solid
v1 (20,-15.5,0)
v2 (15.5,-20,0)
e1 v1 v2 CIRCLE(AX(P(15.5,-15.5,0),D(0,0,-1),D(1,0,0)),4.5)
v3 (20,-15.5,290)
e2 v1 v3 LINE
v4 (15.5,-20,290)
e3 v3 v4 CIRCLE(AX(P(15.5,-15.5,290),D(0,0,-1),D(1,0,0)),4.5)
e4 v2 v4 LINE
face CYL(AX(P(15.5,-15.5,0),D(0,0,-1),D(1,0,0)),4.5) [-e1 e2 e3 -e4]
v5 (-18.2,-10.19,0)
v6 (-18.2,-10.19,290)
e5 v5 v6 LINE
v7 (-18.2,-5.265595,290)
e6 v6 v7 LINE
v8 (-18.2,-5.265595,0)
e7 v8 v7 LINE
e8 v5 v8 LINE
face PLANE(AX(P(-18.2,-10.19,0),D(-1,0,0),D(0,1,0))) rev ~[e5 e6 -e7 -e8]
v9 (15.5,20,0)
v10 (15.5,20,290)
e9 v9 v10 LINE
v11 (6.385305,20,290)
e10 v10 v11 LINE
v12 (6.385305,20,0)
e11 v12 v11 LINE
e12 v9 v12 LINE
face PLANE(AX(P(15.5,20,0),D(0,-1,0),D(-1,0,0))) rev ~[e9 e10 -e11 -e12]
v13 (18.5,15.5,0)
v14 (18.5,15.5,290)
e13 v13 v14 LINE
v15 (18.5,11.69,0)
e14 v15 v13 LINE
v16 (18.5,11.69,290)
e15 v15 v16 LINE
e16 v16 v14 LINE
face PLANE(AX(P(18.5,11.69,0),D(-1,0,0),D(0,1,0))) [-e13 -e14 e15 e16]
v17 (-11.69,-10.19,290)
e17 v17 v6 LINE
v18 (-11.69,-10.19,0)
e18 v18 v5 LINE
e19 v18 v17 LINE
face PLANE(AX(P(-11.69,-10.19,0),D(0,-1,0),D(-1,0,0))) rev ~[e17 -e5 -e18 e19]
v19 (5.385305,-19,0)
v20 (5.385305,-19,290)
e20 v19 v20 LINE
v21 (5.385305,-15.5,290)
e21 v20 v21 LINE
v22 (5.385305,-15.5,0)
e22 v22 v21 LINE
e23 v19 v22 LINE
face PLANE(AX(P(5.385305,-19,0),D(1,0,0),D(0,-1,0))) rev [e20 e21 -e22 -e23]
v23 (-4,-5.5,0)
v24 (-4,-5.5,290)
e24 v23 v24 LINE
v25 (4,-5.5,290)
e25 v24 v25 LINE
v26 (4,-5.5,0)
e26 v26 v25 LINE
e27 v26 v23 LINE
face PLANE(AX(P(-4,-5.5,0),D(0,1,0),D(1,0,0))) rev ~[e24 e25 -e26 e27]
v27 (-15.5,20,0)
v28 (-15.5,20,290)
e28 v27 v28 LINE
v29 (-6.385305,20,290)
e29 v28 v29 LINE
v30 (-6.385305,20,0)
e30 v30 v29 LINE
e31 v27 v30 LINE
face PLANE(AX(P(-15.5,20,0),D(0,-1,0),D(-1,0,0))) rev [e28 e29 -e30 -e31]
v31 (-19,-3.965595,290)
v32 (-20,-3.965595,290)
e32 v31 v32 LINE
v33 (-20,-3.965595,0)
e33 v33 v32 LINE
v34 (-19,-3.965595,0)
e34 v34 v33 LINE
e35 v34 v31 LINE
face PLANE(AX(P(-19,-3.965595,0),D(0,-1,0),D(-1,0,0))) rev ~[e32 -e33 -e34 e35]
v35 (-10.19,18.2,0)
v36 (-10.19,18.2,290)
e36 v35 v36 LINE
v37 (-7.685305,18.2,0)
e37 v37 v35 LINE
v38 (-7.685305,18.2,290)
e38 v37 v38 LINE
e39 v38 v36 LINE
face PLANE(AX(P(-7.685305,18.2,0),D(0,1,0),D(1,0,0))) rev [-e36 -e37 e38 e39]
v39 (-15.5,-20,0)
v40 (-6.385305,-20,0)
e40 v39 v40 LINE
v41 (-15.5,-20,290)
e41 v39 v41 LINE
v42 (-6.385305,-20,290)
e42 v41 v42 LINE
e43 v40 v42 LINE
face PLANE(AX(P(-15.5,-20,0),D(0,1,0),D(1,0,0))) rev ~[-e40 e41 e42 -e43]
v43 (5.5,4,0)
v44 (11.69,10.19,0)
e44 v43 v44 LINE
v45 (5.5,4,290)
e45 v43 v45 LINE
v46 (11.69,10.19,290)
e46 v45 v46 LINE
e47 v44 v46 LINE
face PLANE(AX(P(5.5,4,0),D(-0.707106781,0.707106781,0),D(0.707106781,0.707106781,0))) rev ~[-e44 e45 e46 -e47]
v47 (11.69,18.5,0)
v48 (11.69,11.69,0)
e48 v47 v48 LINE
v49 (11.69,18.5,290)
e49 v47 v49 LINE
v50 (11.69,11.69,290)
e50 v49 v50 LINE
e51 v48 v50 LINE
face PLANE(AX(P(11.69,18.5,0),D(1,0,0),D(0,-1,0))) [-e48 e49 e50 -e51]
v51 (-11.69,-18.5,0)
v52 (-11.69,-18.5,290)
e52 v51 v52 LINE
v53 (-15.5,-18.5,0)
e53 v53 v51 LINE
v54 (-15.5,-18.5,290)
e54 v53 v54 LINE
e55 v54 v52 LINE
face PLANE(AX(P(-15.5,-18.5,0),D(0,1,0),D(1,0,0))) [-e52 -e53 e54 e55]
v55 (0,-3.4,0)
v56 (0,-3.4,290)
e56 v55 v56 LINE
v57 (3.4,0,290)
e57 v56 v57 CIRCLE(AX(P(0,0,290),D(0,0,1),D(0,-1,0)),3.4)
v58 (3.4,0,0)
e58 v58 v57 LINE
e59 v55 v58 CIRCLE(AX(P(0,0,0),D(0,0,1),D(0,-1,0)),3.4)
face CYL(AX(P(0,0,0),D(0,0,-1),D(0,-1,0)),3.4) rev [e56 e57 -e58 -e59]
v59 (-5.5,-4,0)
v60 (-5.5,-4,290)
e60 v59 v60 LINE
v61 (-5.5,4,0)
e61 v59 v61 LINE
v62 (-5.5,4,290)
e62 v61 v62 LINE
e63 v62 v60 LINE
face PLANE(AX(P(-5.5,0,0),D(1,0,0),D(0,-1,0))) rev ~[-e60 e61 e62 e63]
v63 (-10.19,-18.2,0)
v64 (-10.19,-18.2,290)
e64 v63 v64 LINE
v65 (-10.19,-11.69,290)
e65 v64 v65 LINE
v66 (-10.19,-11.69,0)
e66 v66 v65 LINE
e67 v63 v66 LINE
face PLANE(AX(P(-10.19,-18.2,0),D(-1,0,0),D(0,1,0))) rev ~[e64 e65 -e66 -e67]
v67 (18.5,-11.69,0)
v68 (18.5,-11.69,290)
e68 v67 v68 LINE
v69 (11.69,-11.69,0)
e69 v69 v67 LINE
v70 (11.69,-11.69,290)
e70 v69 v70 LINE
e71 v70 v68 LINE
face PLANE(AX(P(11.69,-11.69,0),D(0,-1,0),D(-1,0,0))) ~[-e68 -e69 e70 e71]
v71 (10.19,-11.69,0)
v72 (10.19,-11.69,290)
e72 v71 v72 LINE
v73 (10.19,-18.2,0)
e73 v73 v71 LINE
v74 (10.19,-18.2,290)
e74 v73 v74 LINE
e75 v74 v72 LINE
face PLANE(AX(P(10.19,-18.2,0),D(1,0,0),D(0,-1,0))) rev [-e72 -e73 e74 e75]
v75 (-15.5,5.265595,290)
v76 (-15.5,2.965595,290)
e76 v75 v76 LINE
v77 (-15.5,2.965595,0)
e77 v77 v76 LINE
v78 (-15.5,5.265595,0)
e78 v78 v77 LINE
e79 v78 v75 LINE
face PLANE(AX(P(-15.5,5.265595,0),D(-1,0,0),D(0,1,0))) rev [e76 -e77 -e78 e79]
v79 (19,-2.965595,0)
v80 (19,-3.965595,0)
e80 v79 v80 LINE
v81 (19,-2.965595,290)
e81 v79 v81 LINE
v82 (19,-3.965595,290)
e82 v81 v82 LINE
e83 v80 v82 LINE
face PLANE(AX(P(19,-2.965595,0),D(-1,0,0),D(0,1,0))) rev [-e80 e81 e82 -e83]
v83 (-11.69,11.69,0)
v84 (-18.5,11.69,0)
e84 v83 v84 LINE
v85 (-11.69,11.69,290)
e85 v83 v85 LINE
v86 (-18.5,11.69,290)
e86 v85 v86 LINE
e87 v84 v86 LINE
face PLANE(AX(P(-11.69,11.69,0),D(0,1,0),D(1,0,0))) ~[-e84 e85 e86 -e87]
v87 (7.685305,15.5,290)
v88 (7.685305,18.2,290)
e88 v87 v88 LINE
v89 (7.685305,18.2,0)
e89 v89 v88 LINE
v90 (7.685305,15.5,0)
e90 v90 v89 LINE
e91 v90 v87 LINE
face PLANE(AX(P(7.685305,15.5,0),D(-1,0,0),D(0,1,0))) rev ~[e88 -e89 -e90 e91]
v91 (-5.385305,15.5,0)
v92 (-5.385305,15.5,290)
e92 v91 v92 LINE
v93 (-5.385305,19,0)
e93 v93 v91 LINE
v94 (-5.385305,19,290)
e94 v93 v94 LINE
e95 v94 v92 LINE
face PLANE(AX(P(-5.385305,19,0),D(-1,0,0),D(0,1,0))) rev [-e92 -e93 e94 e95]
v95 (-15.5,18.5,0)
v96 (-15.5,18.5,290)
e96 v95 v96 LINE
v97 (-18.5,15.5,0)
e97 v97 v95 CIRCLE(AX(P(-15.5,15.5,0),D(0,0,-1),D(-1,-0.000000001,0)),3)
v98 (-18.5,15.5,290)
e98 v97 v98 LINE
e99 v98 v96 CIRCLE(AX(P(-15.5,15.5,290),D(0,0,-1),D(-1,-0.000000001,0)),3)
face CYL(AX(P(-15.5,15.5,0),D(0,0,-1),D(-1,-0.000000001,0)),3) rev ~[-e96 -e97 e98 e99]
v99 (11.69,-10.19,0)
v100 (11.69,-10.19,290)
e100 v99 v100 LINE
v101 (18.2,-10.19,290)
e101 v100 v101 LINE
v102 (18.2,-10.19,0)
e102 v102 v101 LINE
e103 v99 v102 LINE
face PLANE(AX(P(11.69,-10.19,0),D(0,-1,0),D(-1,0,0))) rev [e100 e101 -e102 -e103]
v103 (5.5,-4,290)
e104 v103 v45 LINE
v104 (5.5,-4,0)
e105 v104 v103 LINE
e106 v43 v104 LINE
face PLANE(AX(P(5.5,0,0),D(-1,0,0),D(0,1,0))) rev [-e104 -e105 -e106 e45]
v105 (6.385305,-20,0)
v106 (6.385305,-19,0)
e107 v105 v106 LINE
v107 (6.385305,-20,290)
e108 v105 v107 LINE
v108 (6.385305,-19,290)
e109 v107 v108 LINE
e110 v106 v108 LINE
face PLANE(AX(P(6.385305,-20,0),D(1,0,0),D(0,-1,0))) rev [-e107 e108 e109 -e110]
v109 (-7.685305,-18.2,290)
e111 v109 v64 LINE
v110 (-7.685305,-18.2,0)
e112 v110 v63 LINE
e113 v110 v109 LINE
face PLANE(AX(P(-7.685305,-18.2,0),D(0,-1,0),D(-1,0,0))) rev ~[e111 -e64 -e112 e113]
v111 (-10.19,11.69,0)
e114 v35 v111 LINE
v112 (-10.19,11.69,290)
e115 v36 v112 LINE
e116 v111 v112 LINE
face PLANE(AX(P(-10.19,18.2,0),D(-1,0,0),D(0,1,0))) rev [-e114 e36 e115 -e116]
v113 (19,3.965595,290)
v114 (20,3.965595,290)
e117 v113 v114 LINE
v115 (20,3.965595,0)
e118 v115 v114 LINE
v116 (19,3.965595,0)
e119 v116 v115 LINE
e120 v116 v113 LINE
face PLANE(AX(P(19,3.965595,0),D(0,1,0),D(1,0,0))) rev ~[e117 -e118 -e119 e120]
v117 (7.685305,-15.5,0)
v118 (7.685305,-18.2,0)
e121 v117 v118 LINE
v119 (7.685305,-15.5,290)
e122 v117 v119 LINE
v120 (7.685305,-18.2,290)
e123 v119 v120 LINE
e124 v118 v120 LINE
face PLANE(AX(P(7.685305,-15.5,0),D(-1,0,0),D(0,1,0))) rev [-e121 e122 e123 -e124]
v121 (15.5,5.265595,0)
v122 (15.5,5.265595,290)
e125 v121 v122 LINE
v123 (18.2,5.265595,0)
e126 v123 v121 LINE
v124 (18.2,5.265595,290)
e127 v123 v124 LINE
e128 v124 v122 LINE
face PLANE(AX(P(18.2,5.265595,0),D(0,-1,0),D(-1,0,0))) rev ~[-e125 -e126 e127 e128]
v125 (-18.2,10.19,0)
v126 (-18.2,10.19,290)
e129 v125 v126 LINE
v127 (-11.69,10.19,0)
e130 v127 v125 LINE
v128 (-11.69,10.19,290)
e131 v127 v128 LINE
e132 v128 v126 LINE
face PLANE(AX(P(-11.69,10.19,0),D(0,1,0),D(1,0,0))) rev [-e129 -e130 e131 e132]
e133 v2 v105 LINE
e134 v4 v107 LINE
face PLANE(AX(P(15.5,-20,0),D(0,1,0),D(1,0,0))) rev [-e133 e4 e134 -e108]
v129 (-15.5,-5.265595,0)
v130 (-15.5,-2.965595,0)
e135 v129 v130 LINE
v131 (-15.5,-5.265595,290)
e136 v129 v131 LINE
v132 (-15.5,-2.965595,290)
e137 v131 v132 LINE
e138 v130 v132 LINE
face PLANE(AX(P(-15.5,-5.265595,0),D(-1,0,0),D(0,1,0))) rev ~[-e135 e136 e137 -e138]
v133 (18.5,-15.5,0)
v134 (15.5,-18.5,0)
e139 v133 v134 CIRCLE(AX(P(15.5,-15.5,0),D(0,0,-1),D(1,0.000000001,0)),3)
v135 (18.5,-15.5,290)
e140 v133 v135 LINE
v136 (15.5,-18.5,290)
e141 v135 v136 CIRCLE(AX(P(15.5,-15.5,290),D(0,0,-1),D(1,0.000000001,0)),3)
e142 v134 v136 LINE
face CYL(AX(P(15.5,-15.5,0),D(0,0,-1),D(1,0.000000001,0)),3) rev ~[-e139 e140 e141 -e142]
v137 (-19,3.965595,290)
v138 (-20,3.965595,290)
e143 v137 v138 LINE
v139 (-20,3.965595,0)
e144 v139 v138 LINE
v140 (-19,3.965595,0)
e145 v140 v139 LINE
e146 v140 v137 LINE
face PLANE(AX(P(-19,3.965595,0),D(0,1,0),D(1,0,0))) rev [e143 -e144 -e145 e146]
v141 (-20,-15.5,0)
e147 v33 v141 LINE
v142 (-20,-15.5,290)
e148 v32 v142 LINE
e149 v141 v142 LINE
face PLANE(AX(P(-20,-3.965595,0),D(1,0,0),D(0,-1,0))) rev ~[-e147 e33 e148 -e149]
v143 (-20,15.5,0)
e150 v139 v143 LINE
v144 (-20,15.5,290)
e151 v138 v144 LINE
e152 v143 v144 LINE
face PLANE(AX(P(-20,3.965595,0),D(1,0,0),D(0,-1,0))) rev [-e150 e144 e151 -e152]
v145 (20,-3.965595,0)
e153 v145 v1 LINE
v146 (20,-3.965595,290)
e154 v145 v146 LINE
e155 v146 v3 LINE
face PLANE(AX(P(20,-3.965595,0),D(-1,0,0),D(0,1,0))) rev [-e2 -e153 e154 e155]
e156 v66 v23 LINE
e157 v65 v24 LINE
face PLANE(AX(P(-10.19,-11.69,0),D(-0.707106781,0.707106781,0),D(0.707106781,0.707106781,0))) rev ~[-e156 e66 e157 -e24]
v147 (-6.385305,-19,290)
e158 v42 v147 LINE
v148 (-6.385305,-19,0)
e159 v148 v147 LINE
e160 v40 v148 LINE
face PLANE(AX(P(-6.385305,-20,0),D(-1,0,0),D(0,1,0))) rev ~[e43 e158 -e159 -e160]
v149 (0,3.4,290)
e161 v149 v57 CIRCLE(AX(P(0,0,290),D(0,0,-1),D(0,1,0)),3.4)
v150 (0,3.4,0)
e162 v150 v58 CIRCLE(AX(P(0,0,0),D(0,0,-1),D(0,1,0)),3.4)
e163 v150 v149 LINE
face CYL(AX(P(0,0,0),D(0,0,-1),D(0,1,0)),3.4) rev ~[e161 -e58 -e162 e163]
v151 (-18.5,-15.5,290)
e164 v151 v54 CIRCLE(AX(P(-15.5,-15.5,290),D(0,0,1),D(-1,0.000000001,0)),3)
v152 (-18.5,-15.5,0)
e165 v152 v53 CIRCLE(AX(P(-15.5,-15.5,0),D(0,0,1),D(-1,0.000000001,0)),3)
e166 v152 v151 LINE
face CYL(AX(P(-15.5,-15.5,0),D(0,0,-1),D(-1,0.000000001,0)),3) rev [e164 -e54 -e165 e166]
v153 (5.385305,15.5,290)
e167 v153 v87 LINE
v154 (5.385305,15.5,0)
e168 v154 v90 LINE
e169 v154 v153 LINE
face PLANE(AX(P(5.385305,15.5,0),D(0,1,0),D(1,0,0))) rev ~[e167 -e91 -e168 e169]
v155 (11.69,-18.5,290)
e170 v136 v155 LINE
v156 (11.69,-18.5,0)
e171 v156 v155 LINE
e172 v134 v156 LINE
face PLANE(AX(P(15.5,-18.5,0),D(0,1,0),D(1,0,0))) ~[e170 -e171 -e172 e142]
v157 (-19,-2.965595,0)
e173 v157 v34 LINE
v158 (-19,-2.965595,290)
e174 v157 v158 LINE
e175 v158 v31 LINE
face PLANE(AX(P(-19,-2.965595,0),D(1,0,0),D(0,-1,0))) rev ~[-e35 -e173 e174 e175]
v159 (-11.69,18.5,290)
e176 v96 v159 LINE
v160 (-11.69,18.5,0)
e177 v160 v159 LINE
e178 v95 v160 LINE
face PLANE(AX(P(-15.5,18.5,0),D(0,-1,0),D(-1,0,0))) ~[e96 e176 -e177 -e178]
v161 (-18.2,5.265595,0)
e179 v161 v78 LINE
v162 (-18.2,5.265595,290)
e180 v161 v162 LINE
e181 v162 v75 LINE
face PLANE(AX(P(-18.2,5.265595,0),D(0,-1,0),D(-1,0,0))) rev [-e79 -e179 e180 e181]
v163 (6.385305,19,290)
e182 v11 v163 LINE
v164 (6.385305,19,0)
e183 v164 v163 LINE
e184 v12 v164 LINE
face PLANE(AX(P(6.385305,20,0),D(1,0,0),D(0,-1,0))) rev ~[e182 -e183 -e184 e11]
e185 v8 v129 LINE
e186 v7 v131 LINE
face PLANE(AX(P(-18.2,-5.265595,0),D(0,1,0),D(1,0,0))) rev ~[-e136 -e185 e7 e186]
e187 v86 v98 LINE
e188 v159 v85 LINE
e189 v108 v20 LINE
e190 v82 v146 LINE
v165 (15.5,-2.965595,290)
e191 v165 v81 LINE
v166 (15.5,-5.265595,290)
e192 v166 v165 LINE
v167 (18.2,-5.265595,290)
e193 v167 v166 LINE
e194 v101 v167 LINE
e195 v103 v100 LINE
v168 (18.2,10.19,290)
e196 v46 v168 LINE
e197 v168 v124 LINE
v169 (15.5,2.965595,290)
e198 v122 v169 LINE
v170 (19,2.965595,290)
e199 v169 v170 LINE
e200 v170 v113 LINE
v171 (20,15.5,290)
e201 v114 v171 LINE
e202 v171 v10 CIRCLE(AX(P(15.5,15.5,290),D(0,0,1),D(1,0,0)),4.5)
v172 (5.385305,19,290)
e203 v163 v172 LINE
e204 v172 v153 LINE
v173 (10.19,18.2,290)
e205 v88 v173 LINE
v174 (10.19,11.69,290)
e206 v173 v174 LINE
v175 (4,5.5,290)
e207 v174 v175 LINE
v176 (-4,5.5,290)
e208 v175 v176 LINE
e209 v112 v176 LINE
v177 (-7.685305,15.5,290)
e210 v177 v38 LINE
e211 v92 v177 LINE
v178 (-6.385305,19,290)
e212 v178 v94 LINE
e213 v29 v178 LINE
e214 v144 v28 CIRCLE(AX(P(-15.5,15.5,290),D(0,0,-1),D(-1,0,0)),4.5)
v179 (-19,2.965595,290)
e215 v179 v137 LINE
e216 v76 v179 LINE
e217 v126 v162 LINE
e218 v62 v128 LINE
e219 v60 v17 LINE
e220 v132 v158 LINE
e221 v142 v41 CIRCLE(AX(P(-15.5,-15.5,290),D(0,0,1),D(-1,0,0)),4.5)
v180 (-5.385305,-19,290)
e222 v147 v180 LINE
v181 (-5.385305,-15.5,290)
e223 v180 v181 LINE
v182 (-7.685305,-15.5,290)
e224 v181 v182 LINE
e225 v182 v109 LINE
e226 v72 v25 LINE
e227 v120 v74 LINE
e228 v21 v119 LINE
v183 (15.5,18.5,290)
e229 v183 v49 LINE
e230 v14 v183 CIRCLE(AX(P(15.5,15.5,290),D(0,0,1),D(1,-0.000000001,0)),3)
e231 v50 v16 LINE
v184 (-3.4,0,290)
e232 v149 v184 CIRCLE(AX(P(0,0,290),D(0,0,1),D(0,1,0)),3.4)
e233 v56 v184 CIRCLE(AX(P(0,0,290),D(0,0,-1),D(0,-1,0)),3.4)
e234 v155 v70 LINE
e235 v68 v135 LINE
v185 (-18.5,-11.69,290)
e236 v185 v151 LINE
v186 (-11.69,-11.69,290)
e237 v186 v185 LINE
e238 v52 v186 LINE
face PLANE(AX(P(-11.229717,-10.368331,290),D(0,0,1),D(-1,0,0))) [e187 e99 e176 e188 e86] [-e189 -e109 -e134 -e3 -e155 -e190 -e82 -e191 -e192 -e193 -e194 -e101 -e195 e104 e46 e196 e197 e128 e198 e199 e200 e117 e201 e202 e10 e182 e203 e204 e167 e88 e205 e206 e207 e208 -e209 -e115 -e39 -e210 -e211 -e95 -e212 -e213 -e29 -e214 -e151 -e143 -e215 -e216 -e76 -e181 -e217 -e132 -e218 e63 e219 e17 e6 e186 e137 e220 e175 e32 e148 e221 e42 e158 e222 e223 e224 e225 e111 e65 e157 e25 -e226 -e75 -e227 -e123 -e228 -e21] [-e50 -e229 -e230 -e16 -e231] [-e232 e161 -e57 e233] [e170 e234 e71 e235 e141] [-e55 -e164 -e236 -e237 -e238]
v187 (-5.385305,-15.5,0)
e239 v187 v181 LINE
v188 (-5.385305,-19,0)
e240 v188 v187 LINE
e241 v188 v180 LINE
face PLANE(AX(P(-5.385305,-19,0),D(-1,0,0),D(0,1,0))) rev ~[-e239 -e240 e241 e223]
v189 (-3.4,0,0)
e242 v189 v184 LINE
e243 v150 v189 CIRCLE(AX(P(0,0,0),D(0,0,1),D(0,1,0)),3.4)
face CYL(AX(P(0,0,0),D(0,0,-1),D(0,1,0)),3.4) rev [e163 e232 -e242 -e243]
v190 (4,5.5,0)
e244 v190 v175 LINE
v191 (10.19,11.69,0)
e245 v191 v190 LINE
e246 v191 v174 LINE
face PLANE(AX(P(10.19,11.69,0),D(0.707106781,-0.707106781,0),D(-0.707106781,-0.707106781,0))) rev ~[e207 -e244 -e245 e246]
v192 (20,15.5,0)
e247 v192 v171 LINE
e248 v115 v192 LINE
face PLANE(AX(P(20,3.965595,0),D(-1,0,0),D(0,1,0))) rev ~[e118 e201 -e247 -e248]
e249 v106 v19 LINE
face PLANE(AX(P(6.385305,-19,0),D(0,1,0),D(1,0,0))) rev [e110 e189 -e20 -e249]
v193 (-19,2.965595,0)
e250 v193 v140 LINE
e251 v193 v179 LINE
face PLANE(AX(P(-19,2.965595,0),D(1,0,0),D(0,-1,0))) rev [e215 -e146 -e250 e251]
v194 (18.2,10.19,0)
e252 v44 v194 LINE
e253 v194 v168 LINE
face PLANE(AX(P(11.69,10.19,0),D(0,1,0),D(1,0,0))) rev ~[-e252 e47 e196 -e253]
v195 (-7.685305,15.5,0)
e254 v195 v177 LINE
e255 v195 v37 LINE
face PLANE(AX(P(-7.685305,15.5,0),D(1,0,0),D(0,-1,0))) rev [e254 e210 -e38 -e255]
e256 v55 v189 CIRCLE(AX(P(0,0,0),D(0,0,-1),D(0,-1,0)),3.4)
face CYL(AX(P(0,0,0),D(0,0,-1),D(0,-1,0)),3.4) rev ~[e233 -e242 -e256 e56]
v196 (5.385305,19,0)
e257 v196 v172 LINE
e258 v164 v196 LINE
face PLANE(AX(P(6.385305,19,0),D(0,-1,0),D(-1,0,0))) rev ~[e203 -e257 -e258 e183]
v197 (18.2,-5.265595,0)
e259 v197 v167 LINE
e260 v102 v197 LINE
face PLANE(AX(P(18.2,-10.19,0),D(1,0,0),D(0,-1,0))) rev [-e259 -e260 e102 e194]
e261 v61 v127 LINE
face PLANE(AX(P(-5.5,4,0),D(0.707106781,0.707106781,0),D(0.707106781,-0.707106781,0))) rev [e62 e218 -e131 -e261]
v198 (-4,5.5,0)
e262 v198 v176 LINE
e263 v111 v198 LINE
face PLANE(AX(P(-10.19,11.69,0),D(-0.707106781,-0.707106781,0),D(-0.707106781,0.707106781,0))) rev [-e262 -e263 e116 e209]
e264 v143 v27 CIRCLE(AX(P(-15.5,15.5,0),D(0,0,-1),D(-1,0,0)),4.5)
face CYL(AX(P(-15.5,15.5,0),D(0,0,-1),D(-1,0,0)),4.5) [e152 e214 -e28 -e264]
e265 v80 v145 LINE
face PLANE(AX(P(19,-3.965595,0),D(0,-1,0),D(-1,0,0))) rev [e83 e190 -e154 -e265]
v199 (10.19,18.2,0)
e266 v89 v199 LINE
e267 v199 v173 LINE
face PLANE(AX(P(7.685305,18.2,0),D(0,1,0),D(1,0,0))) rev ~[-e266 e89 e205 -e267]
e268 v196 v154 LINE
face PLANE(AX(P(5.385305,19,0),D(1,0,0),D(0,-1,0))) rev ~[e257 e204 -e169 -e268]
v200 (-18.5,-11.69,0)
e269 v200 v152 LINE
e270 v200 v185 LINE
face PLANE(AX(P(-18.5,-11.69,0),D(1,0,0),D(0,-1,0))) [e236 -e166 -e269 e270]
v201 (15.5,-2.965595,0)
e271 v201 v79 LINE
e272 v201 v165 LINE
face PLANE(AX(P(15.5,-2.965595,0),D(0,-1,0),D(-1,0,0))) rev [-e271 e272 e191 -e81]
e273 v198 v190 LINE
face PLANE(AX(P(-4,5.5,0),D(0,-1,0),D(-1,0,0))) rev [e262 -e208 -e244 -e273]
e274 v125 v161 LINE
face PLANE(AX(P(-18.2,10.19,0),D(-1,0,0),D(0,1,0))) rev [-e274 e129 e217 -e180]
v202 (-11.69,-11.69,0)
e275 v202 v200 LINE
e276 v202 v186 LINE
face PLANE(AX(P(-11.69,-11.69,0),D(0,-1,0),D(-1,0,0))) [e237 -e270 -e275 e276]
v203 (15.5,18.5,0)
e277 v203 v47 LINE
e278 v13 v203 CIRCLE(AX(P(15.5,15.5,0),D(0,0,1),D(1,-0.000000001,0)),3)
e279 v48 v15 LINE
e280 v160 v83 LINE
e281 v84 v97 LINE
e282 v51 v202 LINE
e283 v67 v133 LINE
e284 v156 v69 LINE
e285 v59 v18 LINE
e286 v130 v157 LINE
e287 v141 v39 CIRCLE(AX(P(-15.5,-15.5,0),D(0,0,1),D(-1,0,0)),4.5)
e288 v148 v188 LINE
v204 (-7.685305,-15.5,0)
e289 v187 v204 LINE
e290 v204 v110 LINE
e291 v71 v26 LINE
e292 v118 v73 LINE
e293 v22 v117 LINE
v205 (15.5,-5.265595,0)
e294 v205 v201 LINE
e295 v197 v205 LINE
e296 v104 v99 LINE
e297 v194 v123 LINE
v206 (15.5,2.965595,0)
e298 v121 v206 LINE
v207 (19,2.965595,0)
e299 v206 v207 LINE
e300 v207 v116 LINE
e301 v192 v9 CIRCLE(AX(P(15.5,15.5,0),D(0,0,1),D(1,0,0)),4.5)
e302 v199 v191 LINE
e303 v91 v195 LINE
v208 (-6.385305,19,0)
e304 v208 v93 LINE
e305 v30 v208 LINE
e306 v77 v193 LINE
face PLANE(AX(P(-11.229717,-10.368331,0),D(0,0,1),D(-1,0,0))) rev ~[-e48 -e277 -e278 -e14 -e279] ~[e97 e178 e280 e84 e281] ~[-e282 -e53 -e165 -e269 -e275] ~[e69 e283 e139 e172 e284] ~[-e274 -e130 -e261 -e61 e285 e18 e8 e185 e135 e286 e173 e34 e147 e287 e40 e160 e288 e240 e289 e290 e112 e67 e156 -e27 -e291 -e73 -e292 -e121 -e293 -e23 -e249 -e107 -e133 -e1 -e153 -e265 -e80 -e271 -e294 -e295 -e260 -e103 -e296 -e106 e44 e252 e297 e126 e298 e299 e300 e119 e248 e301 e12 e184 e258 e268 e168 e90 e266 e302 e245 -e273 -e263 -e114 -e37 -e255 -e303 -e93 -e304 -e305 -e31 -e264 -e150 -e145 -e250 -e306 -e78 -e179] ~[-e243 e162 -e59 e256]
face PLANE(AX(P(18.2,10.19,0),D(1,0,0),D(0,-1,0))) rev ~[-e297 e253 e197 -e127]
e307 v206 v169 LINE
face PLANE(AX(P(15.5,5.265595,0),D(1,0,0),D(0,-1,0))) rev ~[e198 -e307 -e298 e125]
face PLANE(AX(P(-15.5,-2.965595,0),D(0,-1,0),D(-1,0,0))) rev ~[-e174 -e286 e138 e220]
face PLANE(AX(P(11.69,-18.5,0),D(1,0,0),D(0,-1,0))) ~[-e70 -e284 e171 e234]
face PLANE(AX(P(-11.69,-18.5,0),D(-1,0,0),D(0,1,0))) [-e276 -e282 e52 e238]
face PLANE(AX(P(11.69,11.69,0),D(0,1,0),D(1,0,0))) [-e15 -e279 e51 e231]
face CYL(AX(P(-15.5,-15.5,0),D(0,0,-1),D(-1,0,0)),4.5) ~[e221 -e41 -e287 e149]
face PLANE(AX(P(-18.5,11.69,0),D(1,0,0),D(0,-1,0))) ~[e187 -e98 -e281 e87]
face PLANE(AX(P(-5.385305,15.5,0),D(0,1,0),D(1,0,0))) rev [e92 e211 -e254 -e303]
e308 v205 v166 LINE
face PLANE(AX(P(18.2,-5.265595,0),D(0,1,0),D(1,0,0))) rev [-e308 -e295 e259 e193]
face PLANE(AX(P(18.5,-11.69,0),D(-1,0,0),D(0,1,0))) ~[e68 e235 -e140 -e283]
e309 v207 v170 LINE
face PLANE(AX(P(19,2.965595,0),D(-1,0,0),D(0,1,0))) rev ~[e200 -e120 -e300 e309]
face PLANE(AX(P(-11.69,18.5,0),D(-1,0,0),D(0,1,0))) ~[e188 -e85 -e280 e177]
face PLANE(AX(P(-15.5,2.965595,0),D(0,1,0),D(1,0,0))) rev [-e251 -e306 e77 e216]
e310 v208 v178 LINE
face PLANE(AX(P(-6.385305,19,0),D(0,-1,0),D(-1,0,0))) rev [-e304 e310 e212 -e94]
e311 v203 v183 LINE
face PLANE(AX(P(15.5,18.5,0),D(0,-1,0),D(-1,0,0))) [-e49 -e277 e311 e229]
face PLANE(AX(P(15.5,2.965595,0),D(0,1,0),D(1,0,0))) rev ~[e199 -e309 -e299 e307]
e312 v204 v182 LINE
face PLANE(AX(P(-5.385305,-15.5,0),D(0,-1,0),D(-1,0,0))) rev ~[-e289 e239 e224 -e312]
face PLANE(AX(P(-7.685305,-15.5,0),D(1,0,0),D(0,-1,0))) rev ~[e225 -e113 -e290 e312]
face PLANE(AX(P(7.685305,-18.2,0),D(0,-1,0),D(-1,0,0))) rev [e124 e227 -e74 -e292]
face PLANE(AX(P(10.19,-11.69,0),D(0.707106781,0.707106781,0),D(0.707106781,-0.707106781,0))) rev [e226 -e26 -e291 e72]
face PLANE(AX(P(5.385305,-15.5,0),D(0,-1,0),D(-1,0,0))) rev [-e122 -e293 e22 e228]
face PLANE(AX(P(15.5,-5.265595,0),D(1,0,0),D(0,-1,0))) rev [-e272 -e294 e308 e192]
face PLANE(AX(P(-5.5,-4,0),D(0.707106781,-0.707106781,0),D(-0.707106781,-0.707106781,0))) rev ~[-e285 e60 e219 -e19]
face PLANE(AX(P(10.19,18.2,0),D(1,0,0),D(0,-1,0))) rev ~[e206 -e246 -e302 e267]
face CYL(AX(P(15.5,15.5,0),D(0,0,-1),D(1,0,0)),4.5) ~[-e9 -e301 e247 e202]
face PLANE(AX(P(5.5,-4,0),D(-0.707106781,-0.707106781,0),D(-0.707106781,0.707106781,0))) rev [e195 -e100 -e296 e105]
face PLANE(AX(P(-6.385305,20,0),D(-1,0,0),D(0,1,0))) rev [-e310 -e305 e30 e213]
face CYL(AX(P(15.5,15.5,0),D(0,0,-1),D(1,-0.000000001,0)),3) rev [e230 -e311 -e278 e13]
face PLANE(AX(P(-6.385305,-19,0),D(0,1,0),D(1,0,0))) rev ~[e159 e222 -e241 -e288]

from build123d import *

# Parameters (mm, degrees)
BOSS_EXTRUDE1_DEPTH  = 290
MIRROR3_COPY_1_DEPTH = 290
MIRROR3_COPY_2_DEPTH = 290


with BuildPart() as part:
    # Sketch1 → Boss-Extrude1 (new body)
    with BuildSketch(Plane.XY):
        with BuildLine():
            Line((3.4, 0), (5.5, 0))
            Line((5.5, 0), (5.5, 4))
            Line((5.5, 4), (11.69, 10.19))
            Line((11.69, 10.19), (18.2, 10.19))
            Line((18.2, 10.19), (18.2, 5.265595036))
            Line((18.2, 5.265595036), (15.5, 5.265595036))
            Line((15.5, 5.265595036), (15.5, 2.965595036))
            Line((15.5, 2.965595036), (19, 2.965595036))
            Line((19, 2.965595036), (19, 3.965595036))
            Line((19, 3.965595036), (20, 3.965595036))
            Line((20, 3.965595036), (20, 15.5))
            ThreePointArc((20, 15.5), (18.681980515, 18.681980515), (15.5, 20))
            Line((15.5, 20), (6.385304712, 20))
            Line((6.385304712, 20), (6.385304712, 19))
            Line((6.385304712, 19), (5.385304712, 19))
            Line((5.385304712, 19), (5.385304712, 15.5))
            Line((5.385304712, 15.5), (7.685304712, 15.5))
            Line((7.685304712, 15.5), (7.685304712, 18.2))
            Line((7.685304712, 18.2), (10.19, 18.2))
            Line((10.19, 18.2), (10.19, 11.69))
            Line((10.19, 11.69), (4, 5.5))
            Line((4, 5.5), (0, 5.5))
            Line((0, 5.5), (0, 3.4))
            ThreePointArc((0, 3.4), (2.404163056, 2.404163056), (3.4, 0))
        make_face()
        with BuildLine():
            Line((18.5, 11.69), (18.5, 15.5))
            ThreePointArc((18.5, 15.5), (17.621320344, 17.621320344), (15.5, 18.5))
            Line((15.5, 18.5), (11.69, 18.5))
            Line((11.69, 18.5), (11.69, 11.69))
            Line((11.69, 11.69), (18.5, 11.69))
        make_face(mode=Mode.SUBTRACT)
    boss_extrude1 = extrude(amount=BOSS_EXTRUDE1_DEPTH)

    # Mirror1: Boss-Extrude1 across plane
    add(boss_extrude1.mirror(Plane.ZX))

    # Mirror2: Boss-Extrude1 across plane
    add(boss_extrude1.mirror(Plane(origin=(0, 0, 0), x_dir=(0, 0, 1), z_dir=(1, 0, 0))))

    # Mirror3 copy 1 sketch → Mirror3 copy 1 (add)
    with BuildSketch(Plane(origin=(0, 0, 0), x_dir=(-1, 0, 0), z_dir=(0, 0, 1))):
        with BuildLine():
            Line((3.4, 0), (5.5, 0))
            Line((5.5, 0), (5.5, 4))
            Line((5.5, 4), (11.69, 10.19))
            Line((11.69, 10.19), (18.2, 10.19))
            Line((18.2, 10.19), (18.2, 5.265595036))
            Line((18.2, 5.265595036), (15.5, 5.265595036))
            Line((15.5, 5.265595036), (15.5, 2.965595036))
            Line((15.5, 2.965595036), (19, 2.965595036))
            Line((19, 2.965595036), (19, 3.965595036))
            Line((19, 3.965595036), (20, 3.965595036))
            Line((20, 3.965595036), (20, 15.5))
            ThreePointArc((20, 15.5), (18.681980515, 18.681980515), (15.5, 20))
            Line((15.5, 20), (6.385304712, 20))
            Line((6.385304712, 20), (6.385304712, 19))
            Line((6.385304712, 19), (5.385304712, 19))
            Line((5.385304712, 19), (5.385304712, 15.5))
            Line((5.385304712, 15.5), (7.685304712, 15.5))
            Line((7.685304712, 15.5), (7.685304712, 18.2))
            Line((7.685304712, 18.2), (10.19, 18.2))
            Line((10.19, 18.2), (10.19, 11.69))
            Line((10.19, 11.69), (4, 5.5))
            Line((4, 5.5), (0, 5.5))
            Line((0, 5.5), (0, 3.4))
            ThreePointArc((0, 3.4), (2.404163056, 2.404163056), (3.4, 0))
        make_face()
        with BuildLine():
            Line((18.5, 11.69), (18.5, 15.5))
            ThreePointArc((18.5, 15.5), (17.621320344, 17.621320344), (15.5, 18.5))
            Line((15.5, 18.5), (11.69, 18.5))
            Line((11.69, 18.5), (11.69, 11.69))
            Line((11.69, 11.69), (18.5, 11.69))
        make_face(mode=Mode.SUBTRACT)
    extrude(amount=MIRROR3_COPY_1_DEPTH)

    # Mirror3 copy 2 sketch → Mirror3 copy 2 (add)
    with BuildSketch(Plane.XY):
        with BuildLine():
            Line((3.4, 0), (5.5, 0))
            Line((5.5, 0), (5.5, -4))
            Line((5.5, -4), (11.69, -10.19))
            Line((11.69, -10.19), (18.2, -10.19))
            Line((18.2, -10.19), (18.2, -5.265595036))
            Line((18.2, -5.265595036), (15.5, -5.265595036))
            Line((15.5, -5.265595036), (15.5, -2.965595036))
            Line((15.5, -2.965595036), (19, -2.965595036))
            Line((19, -2.965595036), (19, -3.965595036))
            Line((19, -3.965595036), (20, -3.965595036))
            Line((20, -3.965595036), (20, -15.5))
            ThreePointArc((20, -15.5), (18.681980515, -18.681980515), (15.5, -20))
            Line((15.5, -20), (6.385304712, -20))
            Line((6.385304712, -20), (6.385304712, -19))
            Line((6.385304712, -19), (5.385304712, -19))
            Line((5.385304712, -19), (5.385304712, -15.5))
            Line((5.385304712, -15.5), (7.685304712, -15.5))
            Line((7.685304712, -15.5), (7.685304712, -18.2))
            Line((7.685304712, -18.2), (10.19, -18.2))
            Line((10.19, -18.2), (10.19, -11.69))
            Line((10.19, -11.69), (4, -5.5))
            Line((4, -5.5), (0, -5.5))
            Line((0, -5.5), (0, -3.4))
            ThreePointArc((0, -3.4), (2.404163056, -2.404163056), (3.4, 0))
        make_face()
        with BuildLine():
            Line((18.5, -11.69), (18.5, -15.5))
            ThreePointArc((18.5, -15.5), (17.621320344, -17.621320344), (15.5, -18.5))
            Line((15.5, -18.5), (11.69, -18.5))
            Line((11.69, -18.5), (11.69, -11.69))
            Line((11.69, -11.69), (18.5, -11.69))
        make_face(mode=Mode.SUBTRACT)
    extrude(amount=MIRROR3_COPY_2_DEPTH)


solid = part.part
